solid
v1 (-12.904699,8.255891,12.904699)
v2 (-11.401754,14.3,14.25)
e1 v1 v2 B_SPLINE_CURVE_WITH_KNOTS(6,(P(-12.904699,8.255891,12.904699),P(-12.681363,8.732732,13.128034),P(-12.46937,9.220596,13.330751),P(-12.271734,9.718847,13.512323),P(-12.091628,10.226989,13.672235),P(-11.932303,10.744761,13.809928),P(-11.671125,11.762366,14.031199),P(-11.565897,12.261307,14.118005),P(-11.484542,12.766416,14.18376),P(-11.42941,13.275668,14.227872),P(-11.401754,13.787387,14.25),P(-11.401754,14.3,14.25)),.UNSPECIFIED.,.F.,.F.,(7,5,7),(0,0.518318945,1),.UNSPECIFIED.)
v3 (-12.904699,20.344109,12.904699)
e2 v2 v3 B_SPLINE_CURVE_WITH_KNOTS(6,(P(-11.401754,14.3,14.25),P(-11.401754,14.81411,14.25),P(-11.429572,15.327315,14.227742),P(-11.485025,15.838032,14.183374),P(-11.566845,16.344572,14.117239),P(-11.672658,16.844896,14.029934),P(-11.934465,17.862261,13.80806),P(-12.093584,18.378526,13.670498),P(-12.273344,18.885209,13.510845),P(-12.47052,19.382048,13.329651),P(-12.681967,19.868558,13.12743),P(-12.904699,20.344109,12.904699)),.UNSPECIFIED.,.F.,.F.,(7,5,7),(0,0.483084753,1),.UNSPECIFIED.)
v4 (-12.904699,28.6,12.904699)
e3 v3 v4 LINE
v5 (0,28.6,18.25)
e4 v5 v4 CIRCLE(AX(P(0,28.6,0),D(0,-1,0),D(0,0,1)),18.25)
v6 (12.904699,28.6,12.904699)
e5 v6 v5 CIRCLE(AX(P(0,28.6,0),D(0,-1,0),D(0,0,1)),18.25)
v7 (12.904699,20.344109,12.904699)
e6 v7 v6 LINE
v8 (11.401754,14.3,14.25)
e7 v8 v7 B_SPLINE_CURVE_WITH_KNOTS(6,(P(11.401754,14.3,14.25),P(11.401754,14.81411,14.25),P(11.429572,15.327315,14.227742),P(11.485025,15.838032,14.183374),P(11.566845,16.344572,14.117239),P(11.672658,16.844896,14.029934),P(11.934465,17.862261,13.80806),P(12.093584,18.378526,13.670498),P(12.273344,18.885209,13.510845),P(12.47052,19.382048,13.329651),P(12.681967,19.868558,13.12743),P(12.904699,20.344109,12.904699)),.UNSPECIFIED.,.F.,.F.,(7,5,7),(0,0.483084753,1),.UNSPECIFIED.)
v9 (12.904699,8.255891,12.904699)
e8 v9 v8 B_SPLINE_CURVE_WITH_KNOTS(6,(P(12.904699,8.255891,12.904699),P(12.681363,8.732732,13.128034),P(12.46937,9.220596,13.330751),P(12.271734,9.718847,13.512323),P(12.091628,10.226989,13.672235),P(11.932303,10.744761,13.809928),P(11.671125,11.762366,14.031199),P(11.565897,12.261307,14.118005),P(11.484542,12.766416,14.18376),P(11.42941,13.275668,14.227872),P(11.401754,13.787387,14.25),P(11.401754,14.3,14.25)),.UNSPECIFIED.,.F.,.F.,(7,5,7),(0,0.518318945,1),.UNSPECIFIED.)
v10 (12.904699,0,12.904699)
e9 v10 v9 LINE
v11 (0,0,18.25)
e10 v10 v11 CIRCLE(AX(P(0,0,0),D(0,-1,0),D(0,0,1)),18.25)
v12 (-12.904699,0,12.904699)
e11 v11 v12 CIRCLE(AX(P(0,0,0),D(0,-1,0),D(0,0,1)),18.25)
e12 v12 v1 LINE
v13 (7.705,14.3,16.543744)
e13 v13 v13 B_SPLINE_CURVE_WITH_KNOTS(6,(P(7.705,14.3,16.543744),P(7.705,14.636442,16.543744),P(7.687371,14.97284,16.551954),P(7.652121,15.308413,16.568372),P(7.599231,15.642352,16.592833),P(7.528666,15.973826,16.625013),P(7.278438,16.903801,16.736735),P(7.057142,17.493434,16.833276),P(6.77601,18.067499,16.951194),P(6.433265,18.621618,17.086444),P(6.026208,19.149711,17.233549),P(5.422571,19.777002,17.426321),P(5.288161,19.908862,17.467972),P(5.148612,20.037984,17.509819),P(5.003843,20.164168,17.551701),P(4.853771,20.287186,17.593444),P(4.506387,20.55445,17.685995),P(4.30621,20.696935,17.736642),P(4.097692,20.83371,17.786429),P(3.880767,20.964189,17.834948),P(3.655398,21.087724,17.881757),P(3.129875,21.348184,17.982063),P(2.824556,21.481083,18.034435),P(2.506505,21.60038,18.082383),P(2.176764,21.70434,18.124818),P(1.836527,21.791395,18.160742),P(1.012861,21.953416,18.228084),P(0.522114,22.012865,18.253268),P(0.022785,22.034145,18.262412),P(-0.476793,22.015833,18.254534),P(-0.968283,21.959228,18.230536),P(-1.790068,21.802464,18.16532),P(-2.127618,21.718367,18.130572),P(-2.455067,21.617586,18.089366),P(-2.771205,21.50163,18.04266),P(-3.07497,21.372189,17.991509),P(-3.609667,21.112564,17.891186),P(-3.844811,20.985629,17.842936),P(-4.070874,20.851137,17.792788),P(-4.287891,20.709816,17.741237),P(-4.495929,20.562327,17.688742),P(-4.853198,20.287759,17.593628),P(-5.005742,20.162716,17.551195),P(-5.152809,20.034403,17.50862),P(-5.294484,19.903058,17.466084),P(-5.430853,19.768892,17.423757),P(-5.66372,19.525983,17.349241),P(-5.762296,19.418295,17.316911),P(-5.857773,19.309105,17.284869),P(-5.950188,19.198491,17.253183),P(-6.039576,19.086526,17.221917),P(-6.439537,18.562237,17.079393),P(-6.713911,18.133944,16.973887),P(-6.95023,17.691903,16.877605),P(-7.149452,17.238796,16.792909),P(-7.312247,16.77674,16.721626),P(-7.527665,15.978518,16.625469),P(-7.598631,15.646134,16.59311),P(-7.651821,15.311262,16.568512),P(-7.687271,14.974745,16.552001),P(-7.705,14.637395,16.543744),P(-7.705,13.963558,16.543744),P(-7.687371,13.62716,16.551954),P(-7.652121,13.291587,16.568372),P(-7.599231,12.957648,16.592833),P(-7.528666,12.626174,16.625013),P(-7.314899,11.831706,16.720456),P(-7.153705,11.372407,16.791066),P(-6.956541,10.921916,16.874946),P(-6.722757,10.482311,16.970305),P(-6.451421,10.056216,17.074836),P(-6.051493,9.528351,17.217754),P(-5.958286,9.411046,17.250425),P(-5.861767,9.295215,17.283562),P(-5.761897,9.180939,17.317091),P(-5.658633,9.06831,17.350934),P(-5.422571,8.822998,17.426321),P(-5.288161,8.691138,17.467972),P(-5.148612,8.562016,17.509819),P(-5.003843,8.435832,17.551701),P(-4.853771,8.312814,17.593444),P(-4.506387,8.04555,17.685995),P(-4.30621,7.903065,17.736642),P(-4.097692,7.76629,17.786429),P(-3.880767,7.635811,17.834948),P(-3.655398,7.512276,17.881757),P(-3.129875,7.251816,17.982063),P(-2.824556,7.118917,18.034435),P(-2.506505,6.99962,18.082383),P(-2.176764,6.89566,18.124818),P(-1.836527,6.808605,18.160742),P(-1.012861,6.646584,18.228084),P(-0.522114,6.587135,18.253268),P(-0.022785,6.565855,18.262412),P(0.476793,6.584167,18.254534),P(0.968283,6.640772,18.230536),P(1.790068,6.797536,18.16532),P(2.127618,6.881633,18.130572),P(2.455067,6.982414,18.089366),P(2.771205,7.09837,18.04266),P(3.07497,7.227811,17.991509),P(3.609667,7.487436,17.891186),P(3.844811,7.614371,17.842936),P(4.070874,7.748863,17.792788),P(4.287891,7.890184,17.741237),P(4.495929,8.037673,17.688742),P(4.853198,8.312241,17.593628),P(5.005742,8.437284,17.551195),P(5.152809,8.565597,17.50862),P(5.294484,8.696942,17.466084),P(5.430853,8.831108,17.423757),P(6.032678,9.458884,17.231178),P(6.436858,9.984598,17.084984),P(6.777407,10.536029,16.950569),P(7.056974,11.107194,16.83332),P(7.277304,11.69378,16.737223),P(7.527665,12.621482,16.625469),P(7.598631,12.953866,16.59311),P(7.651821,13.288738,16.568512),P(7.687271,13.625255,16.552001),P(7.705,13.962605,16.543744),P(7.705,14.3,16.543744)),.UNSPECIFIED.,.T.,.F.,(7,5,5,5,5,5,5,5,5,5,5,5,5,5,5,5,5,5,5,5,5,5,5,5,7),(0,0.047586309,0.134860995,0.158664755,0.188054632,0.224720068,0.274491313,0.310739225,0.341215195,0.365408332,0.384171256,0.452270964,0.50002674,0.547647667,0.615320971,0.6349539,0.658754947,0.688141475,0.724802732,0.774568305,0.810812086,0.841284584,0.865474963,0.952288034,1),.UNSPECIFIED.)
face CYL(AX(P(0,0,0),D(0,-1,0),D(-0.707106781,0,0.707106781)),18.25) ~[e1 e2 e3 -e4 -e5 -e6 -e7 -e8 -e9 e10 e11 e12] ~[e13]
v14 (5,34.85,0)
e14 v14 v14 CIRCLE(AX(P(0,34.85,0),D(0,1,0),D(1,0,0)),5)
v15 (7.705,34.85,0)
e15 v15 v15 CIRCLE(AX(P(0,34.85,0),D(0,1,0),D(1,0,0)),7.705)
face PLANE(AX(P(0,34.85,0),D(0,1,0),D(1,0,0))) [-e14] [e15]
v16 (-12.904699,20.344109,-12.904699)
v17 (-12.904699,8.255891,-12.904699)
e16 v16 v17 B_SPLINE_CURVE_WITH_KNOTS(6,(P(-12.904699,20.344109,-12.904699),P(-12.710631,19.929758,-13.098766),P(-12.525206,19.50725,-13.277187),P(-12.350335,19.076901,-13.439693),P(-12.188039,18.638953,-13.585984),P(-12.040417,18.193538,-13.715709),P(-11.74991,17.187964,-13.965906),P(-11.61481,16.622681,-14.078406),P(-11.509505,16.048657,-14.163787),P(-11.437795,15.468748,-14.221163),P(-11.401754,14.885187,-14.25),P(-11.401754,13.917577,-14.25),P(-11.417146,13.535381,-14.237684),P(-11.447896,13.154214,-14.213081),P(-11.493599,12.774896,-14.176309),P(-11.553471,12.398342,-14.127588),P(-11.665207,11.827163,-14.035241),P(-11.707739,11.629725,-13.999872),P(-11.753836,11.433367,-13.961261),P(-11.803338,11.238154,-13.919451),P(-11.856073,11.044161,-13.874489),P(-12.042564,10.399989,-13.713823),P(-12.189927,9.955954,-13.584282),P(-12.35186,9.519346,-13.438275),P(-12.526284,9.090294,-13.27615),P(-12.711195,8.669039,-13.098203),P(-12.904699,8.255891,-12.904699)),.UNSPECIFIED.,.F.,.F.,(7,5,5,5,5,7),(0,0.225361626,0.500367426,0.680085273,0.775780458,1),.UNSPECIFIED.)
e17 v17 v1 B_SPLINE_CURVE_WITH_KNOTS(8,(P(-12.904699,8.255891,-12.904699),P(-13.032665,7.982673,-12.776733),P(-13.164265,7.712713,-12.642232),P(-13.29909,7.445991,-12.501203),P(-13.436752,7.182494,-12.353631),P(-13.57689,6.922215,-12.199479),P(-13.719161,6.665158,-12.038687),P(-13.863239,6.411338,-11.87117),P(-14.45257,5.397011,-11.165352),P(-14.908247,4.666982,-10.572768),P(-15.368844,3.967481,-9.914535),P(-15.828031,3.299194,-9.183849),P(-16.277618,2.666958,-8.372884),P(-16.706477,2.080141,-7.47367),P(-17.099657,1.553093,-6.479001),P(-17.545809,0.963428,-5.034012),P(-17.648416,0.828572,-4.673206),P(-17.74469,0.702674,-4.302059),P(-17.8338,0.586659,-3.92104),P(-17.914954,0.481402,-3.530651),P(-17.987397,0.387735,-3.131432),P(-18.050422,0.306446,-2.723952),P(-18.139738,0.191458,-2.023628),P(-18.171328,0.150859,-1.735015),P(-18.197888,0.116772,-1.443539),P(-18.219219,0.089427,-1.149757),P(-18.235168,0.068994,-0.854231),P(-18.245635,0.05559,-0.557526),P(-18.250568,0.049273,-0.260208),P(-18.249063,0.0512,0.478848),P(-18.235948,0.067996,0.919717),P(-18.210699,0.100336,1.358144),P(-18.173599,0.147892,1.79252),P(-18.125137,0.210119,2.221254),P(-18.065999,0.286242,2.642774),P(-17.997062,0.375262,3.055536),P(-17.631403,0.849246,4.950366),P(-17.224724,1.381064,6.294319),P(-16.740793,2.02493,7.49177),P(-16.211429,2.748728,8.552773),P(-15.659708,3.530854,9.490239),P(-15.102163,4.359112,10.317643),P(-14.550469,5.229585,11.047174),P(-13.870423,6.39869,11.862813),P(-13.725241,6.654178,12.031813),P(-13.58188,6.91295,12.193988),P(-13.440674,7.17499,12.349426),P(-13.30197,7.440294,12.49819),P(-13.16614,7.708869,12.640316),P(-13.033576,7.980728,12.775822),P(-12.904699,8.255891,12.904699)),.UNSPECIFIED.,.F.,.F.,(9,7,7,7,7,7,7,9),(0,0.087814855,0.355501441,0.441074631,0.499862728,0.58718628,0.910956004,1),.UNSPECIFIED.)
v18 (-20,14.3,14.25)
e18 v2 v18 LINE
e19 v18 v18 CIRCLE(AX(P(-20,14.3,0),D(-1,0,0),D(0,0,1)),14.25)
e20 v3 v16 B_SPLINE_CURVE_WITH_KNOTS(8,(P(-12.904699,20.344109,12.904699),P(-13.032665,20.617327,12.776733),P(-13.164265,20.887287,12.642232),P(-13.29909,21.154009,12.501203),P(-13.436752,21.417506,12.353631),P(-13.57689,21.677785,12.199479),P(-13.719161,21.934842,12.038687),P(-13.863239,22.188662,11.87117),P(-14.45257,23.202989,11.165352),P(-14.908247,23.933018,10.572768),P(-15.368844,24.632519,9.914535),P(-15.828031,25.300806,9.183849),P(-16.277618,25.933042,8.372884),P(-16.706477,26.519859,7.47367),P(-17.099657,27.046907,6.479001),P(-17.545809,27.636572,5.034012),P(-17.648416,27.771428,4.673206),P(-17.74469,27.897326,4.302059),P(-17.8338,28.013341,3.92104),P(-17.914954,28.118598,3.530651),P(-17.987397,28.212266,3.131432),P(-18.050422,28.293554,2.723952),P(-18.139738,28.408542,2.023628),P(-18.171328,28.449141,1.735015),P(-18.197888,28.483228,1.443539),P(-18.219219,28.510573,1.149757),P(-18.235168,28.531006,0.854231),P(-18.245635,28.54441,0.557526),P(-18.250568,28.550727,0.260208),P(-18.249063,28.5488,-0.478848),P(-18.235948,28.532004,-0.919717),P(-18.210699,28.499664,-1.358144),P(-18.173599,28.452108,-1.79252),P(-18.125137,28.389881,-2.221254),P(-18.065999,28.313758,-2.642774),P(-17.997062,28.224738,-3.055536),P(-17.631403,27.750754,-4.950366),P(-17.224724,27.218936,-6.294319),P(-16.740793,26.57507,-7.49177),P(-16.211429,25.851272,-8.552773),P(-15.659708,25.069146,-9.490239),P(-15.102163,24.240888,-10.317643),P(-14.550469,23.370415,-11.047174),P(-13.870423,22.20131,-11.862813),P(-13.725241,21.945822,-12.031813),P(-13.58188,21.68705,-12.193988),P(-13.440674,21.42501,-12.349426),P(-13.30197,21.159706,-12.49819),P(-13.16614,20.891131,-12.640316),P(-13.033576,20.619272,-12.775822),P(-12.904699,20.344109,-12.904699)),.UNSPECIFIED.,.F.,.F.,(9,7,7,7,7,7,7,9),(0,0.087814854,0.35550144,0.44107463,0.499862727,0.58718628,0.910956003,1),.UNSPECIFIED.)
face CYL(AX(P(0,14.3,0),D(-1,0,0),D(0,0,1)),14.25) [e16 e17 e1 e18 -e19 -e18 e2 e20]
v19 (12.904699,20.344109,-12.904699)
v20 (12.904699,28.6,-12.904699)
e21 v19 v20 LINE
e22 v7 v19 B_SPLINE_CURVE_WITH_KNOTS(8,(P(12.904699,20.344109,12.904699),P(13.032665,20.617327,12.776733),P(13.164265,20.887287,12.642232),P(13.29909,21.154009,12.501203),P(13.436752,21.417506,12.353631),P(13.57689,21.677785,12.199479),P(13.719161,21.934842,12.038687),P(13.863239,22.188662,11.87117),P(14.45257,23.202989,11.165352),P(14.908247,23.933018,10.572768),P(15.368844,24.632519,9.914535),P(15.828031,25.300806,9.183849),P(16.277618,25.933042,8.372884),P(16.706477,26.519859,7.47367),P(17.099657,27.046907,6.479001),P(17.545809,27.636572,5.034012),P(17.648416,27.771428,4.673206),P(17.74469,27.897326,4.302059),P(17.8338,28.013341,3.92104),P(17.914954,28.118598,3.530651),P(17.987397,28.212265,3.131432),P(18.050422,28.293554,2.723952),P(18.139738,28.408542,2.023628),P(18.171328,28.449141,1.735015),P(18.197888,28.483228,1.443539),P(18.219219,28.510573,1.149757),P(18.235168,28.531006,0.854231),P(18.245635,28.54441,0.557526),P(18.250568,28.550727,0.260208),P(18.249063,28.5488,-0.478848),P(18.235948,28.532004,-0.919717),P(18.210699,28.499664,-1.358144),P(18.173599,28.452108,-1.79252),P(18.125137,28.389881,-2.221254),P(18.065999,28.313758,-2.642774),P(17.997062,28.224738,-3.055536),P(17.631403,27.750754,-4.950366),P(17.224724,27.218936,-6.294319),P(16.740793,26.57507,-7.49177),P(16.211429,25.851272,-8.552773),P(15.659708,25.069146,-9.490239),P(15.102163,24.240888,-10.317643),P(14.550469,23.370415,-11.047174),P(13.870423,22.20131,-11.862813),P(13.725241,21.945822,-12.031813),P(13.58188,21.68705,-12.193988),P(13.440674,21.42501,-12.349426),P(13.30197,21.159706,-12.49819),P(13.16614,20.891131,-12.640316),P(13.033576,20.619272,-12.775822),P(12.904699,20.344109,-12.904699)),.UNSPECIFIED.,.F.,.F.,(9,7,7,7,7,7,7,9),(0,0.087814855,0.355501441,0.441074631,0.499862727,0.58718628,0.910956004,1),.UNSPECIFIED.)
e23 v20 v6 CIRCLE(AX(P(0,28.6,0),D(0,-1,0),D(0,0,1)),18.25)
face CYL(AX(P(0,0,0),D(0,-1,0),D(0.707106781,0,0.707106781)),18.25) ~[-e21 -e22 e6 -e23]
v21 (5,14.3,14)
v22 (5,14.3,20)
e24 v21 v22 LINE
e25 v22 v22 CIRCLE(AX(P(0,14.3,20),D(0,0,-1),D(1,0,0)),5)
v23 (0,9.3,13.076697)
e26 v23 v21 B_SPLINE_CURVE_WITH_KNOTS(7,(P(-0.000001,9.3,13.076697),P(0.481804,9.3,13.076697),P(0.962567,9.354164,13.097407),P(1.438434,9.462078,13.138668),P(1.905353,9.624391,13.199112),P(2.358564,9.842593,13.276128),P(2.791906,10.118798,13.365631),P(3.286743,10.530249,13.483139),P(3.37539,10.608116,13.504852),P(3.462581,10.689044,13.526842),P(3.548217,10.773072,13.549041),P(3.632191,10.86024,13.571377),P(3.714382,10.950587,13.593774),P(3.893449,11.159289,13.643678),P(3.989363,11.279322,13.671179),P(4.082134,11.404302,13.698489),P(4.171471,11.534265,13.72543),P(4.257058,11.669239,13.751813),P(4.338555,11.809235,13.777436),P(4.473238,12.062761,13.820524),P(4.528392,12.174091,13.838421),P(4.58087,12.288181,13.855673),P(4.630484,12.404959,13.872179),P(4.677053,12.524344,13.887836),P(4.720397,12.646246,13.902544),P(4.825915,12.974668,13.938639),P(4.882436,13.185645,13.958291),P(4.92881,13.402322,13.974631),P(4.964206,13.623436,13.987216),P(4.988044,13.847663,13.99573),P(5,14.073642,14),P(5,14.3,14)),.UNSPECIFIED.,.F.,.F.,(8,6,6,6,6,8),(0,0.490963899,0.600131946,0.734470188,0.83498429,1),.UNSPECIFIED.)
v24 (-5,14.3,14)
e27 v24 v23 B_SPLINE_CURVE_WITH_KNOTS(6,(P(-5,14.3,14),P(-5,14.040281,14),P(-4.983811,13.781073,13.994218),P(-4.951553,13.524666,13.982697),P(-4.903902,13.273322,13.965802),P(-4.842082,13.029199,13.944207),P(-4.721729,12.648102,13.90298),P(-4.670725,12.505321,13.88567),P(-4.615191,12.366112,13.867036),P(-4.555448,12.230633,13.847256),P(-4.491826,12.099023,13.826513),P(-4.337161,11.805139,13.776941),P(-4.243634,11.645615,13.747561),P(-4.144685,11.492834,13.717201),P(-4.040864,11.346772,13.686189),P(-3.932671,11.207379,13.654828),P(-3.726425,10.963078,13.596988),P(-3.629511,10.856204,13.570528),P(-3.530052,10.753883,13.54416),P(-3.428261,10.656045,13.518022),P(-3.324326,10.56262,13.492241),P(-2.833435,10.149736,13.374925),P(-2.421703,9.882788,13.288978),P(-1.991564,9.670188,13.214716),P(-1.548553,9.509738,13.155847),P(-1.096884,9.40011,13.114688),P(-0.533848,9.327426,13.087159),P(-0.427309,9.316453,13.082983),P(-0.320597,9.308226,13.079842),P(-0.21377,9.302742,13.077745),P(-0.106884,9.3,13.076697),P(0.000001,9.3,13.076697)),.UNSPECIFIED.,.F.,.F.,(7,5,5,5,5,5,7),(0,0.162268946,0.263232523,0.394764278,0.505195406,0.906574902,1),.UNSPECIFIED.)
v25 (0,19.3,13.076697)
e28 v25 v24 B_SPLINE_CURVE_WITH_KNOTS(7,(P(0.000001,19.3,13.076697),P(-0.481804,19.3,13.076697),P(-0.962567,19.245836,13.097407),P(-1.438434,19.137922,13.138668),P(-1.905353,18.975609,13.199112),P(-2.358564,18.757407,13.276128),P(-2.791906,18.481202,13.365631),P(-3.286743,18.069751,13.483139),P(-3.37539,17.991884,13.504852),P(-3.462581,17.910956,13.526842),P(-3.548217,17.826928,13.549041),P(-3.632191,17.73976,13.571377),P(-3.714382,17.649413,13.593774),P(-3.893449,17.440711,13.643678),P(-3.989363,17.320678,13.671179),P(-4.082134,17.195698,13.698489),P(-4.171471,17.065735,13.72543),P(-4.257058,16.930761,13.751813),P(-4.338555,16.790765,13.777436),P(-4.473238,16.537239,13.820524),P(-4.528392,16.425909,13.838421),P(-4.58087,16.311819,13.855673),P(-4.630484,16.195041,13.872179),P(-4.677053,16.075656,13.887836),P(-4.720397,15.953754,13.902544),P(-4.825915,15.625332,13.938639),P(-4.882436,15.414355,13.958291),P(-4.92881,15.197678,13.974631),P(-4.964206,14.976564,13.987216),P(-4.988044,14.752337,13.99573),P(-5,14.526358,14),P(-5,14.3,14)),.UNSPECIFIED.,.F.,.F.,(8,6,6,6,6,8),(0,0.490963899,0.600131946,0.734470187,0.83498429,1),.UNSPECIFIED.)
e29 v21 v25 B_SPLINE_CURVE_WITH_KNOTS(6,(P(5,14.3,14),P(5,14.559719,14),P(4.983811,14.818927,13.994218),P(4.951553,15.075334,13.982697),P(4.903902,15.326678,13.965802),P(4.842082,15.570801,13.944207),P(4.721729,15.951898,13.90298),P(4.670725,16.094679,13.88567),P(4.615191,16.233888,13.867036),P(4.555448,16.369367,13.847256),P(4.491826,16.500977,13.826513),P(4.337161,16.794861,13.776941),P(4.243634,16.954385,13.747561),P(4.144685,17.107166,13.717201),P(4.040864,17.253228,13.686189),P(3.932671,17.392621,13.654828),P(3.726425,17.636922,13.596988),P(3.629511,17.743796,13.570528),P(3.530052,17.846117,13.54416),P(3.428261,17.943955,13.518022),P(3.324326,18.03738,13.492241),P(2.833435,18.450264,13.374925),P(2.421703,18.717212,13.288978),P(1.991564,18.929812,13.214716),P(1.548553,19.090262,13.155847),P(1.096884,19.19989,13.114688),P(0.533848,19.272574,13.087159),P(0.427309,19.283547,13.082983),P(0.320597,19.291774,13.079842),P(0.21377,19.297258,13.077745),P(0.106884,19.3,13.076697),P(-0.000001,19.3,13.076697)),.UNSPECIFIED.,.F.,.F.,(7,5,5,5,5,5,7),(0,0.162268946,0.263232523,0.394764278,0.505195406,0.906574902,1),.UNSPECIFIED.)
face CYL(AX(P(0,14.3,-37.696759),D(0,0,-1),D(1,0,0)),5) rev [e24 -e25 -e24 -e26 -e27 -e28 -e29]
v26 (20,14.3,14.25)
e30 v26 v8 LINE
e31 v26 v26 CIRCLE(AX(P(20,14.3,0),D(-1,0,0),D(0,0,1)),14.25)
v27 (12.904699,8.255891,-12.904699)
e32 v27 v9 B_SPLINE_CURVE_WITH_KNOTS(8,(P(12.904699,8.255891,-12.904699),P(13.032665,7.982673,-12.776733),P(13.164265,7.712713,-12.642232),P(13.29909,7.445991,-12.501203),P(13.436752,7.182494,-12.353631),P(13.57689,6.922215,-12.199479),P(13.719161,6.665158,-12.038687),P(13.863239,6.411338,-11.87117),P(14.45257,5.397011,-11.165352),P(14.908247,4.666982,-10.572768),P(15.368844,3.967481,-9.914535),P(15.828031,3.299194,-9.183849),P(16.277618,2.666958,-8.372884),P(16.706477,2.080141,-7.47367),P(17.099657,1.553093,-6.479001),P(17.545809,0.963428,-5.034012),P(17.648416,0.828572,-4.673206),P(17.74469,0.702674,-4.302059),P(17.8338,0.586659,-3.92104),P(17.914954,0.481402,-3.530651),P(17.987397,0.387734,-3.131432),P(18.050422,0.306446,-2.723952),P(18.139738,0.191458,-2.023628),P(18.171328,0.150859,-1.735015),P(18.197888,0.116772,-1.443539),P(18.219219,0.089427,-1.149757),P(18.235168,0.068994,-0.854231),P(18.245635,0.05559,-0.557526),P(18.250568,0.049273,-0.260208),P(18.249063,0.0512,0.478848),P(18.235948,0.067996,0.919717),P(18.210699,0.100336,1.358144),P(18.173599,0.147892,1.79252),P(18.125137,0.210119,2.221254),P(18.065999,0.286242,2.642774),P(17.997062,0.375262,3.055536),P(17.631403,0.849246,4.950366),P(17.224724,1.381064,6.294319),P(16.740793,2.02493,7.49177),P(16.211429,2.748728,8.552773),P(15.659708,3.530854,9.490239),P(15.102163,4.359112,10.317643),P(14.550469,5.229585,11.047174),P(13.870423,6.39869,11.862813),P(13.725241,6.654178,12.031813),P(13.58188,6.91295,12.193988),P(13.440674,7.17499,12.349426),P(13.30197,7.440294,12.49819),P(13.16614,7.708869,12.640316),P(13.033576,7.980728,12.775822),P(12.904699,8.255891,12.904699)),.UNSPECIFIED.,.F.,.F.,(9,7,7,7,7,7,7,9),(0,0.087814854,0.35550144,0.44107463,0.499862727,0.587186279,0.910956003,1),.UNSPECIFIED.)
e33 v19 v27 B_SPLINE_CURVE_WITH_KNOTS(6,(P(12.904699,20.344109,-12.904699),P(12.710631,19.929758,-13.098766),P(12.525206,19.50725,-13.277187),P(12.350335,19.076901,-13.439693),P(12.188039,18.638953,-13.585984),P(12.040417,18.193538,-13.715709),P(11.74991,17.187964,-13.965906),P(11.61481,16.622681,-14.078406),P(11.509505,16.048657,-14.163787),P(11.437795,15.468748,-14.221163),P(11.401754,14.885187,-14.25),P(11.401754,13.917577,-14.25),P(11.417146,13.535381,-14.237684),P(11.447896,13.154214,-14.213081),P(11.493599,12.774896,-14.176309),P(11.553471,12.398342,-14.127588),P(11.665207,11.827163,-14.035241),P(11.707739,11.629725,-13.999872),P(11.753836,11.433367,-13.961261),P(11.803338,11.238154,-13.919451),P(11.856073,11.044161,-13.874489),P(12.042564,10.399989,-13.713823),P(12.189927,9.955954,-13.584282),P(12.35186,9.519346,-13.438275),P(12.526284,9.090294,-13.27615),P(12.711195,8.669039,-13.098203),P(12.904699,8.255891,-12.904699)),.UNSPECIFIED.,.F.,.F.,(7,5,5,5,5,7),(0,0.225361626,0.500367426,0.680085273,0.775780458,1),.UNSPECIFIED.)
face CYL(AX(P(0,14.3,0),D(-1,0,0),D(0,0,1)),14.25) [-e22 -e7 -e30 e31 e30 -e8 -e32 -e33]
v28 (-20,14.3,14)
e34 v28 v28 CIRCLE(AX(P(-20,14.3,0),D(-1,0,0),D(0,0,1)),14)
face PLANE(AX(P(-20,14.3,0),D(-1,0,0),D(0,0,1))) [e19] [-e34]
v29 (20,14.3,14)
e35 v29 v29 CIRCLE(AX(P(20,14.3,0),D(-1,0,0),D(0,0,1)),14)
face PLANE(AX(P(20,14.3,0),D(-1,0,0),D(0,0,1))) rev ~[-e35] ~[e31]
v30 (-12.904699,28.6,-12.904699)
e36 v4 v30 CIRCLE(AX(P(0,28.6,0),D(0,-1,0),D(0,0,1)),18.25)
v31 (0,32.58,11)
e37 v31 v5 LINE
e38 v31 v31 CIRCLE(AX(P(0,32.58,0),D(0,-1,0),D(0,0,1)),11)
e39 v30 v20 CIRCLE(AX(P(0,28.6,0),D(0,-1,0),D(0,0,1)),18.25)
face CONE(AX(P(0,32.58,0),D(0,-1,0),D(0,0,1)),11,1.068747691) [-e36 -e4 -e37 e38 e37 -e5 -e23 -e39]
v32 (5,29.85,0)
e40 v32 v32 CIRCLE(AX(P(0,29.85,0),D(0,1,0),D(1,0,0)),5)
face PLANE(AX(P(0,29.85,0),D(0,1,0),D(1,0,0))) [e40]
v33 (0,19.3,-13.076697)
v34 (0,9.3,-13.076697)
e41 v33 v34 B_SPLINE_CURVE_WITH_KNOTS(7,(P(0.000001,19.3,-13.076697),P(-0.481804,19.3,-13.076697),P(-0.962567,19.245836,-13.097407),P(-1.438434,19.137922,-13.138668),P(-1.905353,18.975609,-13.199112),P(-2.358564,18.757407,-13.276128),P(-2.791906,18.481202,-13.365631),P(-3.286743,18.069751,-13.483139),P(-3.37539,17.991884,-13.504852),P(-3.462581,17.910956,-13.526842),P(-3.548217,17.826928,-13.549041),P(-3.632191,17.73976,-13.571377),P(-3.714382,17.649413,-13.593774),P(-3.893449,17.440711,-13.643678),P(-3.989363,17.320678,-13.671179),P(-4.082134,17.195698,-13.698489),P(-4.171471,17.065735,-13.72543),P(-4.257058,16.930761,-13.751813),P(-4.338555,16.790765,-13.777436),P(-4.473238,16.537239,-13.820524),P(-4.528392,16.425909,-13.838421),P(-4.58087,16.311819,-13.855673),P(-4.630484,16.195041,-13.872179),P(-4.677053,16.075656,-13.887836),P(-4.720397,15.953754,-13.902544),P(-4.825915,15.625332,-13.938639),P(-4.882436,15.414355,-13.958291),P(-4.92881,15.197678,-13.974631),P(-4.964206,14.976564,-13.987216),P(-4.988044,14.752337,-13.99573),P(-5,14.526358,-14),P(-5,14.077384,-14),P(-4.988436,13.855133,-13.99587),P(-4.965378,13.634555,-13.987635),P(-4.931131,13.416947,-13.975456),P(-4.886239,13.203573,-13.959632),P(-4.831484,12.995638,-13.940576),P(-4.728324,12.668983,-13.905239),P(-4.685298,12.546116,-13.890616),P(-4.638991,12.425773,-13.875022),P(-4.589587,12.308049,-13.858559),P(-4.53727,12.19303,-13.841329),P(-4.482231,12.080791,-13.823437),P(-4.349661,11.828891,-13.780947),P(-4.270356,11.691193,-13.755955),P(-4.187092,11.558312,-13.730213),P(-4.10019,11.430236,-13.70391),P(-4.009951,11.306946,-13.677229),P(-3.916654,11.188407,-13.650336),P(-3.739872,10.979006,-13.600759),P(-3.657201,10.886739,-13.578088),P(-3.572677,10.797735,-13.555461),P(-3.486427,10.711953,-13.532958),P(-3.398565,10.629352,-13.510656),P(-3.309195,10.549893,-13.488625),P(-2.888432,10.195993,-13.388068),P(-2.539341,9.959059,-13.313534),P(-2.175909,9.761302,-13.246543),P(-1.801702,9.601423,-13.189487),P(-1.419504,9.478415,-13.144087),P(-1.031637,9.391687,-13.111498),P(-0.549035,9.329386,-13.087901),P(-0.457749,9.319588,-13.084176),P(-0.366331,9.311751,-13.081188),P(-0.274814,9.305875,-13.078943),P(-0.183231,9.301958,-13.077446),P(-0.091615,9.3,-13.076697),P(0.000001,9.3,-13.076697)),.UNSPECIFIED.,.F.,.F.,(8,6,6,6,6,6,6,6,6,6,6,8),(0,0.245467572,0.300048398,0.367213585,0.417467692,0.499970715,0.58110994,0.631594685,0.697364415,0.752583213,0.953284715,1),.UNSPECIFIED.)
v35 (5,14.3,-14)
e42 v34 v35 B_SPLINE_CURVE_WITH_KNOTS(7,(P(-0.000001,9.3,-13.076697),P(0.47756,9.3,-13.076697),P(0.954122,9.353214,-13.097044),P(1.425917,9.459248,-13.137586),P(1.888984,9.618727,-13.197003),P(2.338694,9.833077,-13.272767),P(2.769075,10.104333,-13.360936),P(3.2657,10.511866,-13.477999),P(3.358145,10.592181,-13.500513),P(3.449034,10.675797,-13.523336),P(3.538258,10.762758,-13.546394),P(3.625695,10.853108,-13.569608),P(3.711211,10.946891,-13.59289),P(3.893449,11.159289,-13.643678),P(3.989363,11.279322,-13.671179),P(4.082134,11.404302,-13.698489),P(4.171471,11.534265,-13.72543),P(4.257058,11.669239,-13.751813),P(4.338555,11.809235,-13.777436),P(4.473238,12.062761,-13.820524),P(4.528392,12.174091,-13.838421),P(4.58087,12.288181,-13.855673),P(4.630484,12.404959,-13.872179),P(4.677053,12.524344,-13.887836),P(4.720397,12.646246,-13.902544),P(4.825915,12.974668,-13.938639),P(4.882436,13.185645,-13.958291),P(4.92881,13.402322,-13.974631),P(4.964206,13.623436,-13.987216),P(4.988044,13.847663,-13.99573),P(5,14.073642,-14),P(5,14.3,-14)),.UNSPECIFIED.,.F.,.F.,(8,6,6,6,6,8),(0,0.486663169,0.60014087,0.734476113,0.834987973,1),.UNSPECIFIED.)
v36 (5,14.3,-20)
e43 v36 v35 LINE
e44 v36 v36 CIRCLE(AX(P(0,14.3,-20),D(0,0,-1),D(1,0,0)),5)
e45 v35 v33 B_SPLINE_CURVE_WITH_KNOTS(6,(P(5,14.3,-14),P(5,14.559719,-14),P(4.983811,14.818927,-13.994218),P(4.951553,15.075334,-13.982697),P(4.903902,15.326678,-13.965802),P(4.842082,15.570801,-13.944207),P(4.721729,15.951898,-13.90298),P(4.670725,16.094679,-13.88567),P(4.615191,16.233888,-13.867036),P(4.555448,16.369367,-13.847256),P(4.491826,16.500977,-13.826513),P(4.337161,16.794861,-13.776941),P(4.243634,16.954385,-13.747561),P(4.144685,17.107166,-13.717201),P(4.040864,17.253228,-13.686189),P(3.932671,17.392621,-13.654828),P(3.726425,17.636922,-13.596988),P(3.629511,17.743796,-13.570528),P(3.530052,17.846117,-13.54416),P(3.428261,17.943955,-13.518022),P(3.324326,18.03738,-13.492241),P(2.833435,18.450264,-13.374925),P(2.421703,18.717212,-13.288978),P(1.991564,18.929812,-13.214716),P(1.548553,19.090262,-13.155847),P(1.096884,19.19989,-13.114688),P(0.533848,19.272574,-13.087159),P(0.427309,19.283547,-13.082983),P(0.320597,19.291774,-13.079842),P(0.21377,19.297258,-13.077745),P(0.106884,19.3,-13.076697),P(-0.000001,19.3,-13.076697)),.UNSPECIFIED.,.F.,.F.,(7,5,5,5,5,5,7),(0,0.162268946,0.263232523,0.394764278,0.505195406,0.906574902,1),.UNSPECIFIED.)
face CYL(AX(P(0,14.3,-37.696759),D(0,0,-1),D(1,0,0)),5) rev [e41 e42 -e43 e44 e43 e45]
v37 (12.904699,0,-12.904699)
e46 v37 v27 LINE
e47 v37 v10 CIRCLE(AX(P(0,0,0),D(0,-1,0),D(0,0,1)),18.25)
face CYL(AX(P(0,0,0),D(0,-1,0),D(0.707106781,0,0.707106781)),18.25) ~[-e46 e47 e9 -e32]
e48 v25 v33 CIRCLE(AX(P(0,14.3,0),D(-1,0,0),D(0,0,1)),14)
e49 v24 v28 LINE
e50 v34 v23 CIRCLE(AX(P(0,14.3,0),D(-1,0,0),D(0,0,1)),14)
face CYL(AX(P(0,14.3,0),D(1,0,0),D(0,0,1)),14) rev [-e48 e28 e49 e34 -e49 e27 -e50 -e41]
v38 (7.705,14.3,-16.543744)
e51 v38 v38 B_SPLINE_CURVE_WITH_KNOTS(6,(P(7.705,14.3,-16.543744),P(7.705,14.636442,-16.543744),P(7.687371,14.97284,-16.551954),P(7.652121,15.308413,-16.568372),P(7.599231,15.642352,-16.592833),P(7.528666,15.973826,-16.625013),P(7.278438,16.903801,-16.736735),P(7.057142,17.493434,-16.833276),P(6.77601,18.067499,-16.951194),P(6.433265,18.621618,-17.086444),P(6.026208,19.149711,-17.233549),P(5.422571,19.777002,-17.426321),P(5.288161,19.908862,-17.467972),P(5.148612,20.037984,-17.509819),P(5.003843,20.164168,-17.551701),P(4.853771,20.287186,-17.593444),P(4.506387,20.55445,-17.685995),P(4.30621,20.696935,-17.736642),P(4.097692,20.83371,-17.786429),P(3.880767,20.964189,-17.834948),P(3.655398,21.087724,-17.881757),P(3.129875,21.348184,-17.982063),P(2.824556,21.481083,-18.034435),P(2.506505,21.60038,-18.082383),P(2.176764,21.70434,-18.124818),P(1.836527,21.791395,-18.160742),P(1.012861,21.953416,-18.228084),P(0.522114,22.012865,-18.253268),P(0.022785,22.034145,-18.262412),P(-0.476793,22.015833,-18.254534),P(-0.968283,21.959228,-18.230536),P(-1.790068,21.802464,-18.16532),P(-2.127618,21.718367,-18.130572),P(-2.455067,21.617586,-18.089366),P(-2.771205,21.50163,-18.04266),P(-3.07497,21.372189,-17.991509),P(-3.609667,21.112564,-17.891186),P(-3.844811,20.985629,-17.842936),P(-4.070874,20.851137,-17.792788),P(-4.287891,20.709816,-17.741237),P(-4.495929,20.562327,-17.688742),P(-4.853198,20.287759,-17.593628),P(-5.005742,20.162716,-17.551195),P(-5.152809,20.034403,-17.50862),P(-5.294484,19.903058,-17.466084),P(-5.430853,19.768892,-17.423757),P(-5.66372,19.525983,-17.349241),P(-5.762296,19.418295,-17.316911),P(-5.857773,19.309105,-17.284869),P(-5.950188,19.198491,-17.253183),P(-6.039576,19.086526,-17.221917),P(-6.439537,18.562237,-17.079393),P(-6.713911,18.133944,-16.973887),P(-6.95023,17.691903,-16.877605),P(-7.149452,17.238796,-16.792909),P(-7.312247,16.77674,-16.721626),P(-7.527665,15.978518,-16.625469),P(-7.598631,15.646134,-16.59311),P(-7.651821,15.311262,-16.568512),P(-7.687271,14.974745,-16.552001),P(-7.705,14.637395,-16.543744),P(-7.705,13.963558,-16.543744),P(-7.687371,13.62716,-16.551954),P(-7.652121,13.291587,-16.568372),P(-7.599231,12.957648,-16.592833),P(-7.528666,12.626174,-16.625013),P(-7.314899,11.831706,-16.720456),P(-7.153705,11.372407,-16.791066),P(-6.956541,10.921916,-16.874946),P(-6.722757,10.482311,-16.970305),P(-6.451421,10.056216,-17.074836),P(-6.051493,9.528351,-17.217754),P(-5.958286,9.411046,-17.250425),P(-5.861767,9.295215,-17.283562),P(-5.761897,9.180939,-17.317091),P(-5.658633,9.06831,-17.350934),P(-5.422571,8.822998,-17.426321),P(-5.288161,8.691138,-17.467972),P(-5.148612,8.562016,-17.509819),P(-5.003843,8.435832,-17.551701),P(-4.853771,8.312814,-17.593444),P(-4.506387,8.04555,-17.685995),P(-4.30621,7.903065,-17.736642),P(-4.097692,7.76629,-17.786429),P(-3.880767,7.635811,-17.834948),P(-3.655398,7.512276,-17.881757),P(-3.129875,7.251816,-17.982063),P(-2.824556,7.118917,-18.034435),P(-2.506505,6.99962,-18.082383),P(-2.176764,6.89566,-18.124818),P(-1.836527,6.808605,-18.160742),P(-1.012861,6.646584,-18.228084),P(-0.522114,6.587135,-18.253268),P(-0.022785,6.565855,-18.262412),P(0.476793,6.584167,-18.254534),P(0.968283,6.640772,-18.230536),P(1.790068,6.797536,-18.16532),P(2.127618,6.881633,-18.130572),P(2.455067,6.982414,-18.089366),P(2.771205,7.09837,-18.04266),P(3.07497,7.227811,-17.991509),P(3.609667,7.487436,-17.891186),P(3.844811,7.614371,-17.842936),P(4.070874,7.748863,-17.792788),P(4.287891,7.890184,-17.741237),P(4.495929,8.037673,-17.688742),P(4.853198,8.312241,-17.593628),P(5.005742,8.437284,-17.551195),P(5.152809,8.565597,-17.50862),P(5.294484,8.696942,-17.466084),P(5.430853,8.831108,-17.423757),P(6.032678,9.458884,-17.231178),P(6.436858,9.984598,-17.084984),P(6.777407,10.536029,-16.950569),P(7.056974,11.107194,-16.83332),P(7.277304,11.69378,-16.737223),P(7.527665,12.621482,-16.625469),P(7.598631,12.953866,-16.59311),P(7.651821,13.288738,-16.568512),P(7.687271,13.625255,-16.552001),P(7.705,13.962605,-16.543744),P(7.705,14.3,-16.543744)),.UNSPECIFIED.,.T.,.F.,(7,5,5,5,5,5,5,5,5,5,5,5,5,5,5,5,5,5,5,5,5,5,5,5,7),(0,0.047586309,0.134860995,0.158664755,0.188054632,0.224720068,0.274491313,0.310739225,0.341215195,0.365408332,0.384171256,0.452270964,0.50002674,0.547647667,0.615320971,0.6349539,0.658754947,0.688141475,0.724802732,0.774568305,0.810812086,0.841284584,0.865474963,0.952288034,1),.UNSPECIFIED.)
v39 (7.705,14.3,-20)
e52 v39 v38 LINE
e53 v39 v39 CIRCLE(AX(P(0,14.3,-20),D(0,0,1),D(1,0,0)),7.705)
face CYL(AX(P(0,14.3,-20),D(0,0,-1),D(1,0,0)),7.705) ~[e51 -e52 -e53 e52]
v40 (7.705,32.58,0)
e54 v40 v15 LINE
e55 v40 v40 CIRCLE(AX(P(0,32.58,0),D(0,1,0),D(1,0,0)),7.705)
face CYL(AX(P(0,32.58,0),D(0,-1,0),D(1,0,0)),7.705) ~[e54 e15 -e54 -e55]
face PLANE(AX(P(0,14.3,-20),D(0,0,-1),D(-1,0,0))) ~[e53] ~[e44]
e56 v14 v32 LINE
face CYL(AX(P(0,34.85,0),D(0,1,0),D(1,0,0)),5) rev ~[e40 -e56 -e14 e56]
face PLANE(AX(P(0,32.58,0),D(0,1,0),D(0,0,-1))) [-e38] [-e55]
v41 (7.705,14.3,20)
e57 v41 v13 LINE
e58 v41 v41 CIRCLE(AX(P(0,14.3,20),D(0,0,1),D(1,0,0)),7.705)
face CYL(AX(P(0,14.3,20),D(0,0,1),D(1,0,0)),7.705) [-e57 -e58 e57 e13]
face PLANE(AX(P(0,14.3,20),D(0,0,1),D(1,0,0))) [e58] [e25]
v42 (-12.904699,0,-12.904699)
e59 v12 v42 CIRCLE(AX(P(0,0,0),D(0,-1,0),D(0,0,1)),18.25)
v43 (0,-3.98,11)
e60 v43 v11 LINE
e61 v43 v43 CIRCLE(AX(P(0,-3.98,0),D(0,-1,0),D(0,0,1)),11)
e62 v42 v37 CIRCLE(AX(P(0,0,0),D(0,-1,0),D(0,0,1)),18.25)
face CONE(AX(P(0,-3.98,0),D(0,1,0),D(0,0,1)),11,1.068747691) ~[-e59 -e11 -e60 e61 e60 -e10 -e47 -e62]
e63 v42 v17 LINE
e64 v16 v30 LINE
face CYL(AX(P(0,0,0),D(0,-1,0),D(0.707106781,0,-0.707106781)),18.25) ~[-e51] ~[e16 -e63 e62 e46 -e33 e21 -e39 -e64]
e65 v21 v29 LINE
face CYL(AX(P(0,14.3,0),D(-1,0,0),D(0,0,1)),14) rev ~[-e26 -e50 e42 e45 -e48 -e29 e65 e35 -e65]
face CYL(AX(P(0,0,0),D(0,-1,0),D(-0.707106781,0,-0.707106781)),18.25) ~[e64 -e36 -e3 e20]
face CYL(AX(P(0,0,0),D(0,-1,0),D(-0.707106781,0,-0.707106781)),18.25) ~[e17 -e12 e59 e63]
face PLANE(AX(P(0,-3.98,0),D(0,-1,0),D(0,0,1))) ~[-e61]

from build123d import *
from build123d.topology import SkipClean

# Parameters (mm, degrees)
SKETCH1_W                = 25.809397514
SKETCH1_H                = 25.809397514
BOSS_EXTRUDE1_DEPTH      = 28.6
BOSS_EXTRUDE3_DEPTH      = 28.6
CUT_EXTRUDE4_DEPTH       = 42.564184101
CUT_EXTRUDE4_DEPTH_BACK  = 42.564184101
SKETCH4_R                = 14.25
SKETCH5_R                = 14.25
SKETCH5_R_2              = 14
BOSS_EXTRUDE4_DEPTH      = 20
SKETCH6_R                = 7.705
BOSS_EXTRUDE5_DEPTH      = 2.27
SKETCH7_R                = 5
CUT_EXTRUDE5_DEPTH       = 5
BOSS_EXTRUDE7_REACH      = 66.131
BOSS_EXTRUDE7_END_RADIUS = 18.25
BOSS_EXTRUDE7_START      = 20
SKETCH8_R                = 7.705
CUT_EXTRUDE8_DEPTH       = 57.696759272
CUT_EXTRUDE8_DEPTH_BACK  = 57.696759272
SKETCH12_R               = 5


with BuildPart() as part:
    # Sketch1 → Boss-Extrude1 (new body)
    with BuildSketch(Plane(origin=(0, 0, 0), x_dir=(1, 0, 0), z_dir=(0, 1, 0))):
        Rectangle(SKETCH1_W, SKETCH1_H)
    extrude(amount=BOSS_EXTRUDE1_DEPTH)

    # Sketch2 → Revolve1 (revolve)
    with BuildSketch(Plane.ZY):
        Polygon((0, 0), (0, -3.98), (11, -3.98), (18.25, 0), align=None)
    revolve1 = revolve(axis=Axis((0, 0, 0), (0, -1, 0)))

    # Mirror2: Revolve1 across plane
    add(revolve1.mirror(Plane(origin=(0, 14.3, 0), x_dir=(0, 0, 1), z_dir=(0, -1, 0))))

    # Sketch1<4> → Boss-Extrude3 (add)
    with BuildSketch(Plane(origin=(0, 0, 0), x_dir=(1, 0, 0), z_dir=(0, 1, 0))):
        with BuildLine():
            ThreePointArc((12.904698757, 12.904698757), (0, 18.25), (-12.904698757, 12.904698757))
            Line((-12.904698757, 12.904698757), (12.904698757, 12.904698757))
        make_face()
        with BuildLine():
            Line((-12.904698757, -12.904698757), (-12.904698757, 12.904698757))
            ThreePointArc((-12.904698757, 12.904698757), (-18.25, 0), (-12.904698757, -12.904698757))
        make_face()
        with BuildLine():
            ThreePointArc((12.904698757, -12.904698757), (18.25, 0), (12.904698757, 12.904698757))
            Line((12.904698757, 12.904698757), (12.904698757, -12.904698757))
        make_face()
        with BuildLine():
            Line((12.904698757, -12.904698757), (-12.904698757, -12.904698757))
            ThreePointArc((-12.904698757, -12.904698757), (0, -18.25), (12.904698757, -12.904698757))
        make_face()
    extrude(amount=BOSS_EXTRUDE3_DEPTH)

    # Sketch4 → Cut-Extrude4 (cut, two sides: drawn at the far end of the back side and taken through both)
    with SkipClean():  # the faces are left unmerged after this step: merging them gives an invalid solid
        with BuildSketch(Plane.ZY.offset(-CUT_EXTRUDE4_DEPTH_BACK)):
            with Locations((0, 14.3)):
                Circle(SKETCH4_R)
        extrude(amount=CUT_EXTRUDE4_DEPTH + CUT_EXTRUDE4_DEPTH_BACK, mode=Mode.SUBTRACT)

    # Sketch5 → Boss-Extrude4 (add, symmetric)
    with SkipClean():  # the faces are left unmerged after this step: merging them gives an invalid solid
        with BuildSketch(Plane.ZY):
            with Locations((0, 14.3)):
                Circle(SKETCH5_R)
            with Locations((0, 14.3)):
                Circle(SKETCH5_R_2, mode=Mode.SUBTRACT)
        extrude(amount=BOSS_EXTRUDE4_DEPTH, both=True)

    # Sketch6 → Boss-Extrude5 (add)
    with SkipClean():  # the faces are left unmerged after this step: merging them gives an invalid solid
        with BuildSketch(Plane(origin=(0, 32.58, 0), x_dir=(1, 0, 0), z_dir=(0, 1, 0))):
            Circle(SKETCH6_R)
        extrude(amount=BOSS_EXTRUDE5_DEPTH)

    # Sketch7 → Cut-Extrude5 (cut)
    with SkipClean():  # the faces are left unmerged after this step: merging them gives an invalid solid
        with BuildSketch(Plane(origin=(0, 34.85, 0), x_dir=(1, 0, 0), z_dir=(0, 1, 0))):
            Circle(SKETCH7_R)
        extrude(amount=-CUT_EXTRUDE5_DEPTH, mode=Mode.SUBTRACT)

    # Boss-Extrude7: up to this cylinder (the profile starts outside it)
    with SkipClean():  # the faces are left unmerged after this step: merging them gives an invalid solid
        boss_extrude7_end = Plane(origin=(0, 14.3, 0), z_dir=(0, -1, 0)) * Cylinder(BOSS_EXTRUDE7_END_RADIUS, 169.762, mode=Mode.PRIVATE)
        # Sketch8 → Boss-Extrude7 (add, up to the surface)
        with BuildSketch(Plane.XY.offset(BOSS_EXTRUDE7_START), mode=Mode.PRIVATE) as boss_extrude7_sk1:
            with Locations((0, 14.3)):
                Circle(SKETCH8_R)
        boss_extrude7_tool1 = extrude(boss_extrude7_sk1.sketch, amount=-BOSS_EXTRUDE7_REACH, mode=Mode.PRIVATE) - boss_extrude7_end
        boss_extrude7 = boss_extrude7_tool1.solids().sort_by_distance((0, 14.3, 20))[0]
        add(boss_extrude7)

    # Mirror5: Boss-Extrude7 across plane
    with SkipClean():  # the faces are left unmerged after this step: merging them gives an invalid solid
        add(boss_extrude7.mirror(Plane.XY))

    # Sketch12 → Cut-Extrude8 (cut, two sides: drawn at the far end of the back side and taken through both)
    with SkipClean():  # the faces are left unmerged after this step: merging them gives an invalid solid
        with BuildSketch(Plane.XY.offset(20).offset(-CUT_EXTRUDE8_DEPTH_BACK)):
            with Locations((0, 14.3)):
                Circle(SKETCH12_R)
        extrude(amount=CUT_EXTRUDE8_DEPTH + CUT_EXTRUDE8_DEPTH_BACK, mode=Mode.SUBTRACT)


solid = part.part
